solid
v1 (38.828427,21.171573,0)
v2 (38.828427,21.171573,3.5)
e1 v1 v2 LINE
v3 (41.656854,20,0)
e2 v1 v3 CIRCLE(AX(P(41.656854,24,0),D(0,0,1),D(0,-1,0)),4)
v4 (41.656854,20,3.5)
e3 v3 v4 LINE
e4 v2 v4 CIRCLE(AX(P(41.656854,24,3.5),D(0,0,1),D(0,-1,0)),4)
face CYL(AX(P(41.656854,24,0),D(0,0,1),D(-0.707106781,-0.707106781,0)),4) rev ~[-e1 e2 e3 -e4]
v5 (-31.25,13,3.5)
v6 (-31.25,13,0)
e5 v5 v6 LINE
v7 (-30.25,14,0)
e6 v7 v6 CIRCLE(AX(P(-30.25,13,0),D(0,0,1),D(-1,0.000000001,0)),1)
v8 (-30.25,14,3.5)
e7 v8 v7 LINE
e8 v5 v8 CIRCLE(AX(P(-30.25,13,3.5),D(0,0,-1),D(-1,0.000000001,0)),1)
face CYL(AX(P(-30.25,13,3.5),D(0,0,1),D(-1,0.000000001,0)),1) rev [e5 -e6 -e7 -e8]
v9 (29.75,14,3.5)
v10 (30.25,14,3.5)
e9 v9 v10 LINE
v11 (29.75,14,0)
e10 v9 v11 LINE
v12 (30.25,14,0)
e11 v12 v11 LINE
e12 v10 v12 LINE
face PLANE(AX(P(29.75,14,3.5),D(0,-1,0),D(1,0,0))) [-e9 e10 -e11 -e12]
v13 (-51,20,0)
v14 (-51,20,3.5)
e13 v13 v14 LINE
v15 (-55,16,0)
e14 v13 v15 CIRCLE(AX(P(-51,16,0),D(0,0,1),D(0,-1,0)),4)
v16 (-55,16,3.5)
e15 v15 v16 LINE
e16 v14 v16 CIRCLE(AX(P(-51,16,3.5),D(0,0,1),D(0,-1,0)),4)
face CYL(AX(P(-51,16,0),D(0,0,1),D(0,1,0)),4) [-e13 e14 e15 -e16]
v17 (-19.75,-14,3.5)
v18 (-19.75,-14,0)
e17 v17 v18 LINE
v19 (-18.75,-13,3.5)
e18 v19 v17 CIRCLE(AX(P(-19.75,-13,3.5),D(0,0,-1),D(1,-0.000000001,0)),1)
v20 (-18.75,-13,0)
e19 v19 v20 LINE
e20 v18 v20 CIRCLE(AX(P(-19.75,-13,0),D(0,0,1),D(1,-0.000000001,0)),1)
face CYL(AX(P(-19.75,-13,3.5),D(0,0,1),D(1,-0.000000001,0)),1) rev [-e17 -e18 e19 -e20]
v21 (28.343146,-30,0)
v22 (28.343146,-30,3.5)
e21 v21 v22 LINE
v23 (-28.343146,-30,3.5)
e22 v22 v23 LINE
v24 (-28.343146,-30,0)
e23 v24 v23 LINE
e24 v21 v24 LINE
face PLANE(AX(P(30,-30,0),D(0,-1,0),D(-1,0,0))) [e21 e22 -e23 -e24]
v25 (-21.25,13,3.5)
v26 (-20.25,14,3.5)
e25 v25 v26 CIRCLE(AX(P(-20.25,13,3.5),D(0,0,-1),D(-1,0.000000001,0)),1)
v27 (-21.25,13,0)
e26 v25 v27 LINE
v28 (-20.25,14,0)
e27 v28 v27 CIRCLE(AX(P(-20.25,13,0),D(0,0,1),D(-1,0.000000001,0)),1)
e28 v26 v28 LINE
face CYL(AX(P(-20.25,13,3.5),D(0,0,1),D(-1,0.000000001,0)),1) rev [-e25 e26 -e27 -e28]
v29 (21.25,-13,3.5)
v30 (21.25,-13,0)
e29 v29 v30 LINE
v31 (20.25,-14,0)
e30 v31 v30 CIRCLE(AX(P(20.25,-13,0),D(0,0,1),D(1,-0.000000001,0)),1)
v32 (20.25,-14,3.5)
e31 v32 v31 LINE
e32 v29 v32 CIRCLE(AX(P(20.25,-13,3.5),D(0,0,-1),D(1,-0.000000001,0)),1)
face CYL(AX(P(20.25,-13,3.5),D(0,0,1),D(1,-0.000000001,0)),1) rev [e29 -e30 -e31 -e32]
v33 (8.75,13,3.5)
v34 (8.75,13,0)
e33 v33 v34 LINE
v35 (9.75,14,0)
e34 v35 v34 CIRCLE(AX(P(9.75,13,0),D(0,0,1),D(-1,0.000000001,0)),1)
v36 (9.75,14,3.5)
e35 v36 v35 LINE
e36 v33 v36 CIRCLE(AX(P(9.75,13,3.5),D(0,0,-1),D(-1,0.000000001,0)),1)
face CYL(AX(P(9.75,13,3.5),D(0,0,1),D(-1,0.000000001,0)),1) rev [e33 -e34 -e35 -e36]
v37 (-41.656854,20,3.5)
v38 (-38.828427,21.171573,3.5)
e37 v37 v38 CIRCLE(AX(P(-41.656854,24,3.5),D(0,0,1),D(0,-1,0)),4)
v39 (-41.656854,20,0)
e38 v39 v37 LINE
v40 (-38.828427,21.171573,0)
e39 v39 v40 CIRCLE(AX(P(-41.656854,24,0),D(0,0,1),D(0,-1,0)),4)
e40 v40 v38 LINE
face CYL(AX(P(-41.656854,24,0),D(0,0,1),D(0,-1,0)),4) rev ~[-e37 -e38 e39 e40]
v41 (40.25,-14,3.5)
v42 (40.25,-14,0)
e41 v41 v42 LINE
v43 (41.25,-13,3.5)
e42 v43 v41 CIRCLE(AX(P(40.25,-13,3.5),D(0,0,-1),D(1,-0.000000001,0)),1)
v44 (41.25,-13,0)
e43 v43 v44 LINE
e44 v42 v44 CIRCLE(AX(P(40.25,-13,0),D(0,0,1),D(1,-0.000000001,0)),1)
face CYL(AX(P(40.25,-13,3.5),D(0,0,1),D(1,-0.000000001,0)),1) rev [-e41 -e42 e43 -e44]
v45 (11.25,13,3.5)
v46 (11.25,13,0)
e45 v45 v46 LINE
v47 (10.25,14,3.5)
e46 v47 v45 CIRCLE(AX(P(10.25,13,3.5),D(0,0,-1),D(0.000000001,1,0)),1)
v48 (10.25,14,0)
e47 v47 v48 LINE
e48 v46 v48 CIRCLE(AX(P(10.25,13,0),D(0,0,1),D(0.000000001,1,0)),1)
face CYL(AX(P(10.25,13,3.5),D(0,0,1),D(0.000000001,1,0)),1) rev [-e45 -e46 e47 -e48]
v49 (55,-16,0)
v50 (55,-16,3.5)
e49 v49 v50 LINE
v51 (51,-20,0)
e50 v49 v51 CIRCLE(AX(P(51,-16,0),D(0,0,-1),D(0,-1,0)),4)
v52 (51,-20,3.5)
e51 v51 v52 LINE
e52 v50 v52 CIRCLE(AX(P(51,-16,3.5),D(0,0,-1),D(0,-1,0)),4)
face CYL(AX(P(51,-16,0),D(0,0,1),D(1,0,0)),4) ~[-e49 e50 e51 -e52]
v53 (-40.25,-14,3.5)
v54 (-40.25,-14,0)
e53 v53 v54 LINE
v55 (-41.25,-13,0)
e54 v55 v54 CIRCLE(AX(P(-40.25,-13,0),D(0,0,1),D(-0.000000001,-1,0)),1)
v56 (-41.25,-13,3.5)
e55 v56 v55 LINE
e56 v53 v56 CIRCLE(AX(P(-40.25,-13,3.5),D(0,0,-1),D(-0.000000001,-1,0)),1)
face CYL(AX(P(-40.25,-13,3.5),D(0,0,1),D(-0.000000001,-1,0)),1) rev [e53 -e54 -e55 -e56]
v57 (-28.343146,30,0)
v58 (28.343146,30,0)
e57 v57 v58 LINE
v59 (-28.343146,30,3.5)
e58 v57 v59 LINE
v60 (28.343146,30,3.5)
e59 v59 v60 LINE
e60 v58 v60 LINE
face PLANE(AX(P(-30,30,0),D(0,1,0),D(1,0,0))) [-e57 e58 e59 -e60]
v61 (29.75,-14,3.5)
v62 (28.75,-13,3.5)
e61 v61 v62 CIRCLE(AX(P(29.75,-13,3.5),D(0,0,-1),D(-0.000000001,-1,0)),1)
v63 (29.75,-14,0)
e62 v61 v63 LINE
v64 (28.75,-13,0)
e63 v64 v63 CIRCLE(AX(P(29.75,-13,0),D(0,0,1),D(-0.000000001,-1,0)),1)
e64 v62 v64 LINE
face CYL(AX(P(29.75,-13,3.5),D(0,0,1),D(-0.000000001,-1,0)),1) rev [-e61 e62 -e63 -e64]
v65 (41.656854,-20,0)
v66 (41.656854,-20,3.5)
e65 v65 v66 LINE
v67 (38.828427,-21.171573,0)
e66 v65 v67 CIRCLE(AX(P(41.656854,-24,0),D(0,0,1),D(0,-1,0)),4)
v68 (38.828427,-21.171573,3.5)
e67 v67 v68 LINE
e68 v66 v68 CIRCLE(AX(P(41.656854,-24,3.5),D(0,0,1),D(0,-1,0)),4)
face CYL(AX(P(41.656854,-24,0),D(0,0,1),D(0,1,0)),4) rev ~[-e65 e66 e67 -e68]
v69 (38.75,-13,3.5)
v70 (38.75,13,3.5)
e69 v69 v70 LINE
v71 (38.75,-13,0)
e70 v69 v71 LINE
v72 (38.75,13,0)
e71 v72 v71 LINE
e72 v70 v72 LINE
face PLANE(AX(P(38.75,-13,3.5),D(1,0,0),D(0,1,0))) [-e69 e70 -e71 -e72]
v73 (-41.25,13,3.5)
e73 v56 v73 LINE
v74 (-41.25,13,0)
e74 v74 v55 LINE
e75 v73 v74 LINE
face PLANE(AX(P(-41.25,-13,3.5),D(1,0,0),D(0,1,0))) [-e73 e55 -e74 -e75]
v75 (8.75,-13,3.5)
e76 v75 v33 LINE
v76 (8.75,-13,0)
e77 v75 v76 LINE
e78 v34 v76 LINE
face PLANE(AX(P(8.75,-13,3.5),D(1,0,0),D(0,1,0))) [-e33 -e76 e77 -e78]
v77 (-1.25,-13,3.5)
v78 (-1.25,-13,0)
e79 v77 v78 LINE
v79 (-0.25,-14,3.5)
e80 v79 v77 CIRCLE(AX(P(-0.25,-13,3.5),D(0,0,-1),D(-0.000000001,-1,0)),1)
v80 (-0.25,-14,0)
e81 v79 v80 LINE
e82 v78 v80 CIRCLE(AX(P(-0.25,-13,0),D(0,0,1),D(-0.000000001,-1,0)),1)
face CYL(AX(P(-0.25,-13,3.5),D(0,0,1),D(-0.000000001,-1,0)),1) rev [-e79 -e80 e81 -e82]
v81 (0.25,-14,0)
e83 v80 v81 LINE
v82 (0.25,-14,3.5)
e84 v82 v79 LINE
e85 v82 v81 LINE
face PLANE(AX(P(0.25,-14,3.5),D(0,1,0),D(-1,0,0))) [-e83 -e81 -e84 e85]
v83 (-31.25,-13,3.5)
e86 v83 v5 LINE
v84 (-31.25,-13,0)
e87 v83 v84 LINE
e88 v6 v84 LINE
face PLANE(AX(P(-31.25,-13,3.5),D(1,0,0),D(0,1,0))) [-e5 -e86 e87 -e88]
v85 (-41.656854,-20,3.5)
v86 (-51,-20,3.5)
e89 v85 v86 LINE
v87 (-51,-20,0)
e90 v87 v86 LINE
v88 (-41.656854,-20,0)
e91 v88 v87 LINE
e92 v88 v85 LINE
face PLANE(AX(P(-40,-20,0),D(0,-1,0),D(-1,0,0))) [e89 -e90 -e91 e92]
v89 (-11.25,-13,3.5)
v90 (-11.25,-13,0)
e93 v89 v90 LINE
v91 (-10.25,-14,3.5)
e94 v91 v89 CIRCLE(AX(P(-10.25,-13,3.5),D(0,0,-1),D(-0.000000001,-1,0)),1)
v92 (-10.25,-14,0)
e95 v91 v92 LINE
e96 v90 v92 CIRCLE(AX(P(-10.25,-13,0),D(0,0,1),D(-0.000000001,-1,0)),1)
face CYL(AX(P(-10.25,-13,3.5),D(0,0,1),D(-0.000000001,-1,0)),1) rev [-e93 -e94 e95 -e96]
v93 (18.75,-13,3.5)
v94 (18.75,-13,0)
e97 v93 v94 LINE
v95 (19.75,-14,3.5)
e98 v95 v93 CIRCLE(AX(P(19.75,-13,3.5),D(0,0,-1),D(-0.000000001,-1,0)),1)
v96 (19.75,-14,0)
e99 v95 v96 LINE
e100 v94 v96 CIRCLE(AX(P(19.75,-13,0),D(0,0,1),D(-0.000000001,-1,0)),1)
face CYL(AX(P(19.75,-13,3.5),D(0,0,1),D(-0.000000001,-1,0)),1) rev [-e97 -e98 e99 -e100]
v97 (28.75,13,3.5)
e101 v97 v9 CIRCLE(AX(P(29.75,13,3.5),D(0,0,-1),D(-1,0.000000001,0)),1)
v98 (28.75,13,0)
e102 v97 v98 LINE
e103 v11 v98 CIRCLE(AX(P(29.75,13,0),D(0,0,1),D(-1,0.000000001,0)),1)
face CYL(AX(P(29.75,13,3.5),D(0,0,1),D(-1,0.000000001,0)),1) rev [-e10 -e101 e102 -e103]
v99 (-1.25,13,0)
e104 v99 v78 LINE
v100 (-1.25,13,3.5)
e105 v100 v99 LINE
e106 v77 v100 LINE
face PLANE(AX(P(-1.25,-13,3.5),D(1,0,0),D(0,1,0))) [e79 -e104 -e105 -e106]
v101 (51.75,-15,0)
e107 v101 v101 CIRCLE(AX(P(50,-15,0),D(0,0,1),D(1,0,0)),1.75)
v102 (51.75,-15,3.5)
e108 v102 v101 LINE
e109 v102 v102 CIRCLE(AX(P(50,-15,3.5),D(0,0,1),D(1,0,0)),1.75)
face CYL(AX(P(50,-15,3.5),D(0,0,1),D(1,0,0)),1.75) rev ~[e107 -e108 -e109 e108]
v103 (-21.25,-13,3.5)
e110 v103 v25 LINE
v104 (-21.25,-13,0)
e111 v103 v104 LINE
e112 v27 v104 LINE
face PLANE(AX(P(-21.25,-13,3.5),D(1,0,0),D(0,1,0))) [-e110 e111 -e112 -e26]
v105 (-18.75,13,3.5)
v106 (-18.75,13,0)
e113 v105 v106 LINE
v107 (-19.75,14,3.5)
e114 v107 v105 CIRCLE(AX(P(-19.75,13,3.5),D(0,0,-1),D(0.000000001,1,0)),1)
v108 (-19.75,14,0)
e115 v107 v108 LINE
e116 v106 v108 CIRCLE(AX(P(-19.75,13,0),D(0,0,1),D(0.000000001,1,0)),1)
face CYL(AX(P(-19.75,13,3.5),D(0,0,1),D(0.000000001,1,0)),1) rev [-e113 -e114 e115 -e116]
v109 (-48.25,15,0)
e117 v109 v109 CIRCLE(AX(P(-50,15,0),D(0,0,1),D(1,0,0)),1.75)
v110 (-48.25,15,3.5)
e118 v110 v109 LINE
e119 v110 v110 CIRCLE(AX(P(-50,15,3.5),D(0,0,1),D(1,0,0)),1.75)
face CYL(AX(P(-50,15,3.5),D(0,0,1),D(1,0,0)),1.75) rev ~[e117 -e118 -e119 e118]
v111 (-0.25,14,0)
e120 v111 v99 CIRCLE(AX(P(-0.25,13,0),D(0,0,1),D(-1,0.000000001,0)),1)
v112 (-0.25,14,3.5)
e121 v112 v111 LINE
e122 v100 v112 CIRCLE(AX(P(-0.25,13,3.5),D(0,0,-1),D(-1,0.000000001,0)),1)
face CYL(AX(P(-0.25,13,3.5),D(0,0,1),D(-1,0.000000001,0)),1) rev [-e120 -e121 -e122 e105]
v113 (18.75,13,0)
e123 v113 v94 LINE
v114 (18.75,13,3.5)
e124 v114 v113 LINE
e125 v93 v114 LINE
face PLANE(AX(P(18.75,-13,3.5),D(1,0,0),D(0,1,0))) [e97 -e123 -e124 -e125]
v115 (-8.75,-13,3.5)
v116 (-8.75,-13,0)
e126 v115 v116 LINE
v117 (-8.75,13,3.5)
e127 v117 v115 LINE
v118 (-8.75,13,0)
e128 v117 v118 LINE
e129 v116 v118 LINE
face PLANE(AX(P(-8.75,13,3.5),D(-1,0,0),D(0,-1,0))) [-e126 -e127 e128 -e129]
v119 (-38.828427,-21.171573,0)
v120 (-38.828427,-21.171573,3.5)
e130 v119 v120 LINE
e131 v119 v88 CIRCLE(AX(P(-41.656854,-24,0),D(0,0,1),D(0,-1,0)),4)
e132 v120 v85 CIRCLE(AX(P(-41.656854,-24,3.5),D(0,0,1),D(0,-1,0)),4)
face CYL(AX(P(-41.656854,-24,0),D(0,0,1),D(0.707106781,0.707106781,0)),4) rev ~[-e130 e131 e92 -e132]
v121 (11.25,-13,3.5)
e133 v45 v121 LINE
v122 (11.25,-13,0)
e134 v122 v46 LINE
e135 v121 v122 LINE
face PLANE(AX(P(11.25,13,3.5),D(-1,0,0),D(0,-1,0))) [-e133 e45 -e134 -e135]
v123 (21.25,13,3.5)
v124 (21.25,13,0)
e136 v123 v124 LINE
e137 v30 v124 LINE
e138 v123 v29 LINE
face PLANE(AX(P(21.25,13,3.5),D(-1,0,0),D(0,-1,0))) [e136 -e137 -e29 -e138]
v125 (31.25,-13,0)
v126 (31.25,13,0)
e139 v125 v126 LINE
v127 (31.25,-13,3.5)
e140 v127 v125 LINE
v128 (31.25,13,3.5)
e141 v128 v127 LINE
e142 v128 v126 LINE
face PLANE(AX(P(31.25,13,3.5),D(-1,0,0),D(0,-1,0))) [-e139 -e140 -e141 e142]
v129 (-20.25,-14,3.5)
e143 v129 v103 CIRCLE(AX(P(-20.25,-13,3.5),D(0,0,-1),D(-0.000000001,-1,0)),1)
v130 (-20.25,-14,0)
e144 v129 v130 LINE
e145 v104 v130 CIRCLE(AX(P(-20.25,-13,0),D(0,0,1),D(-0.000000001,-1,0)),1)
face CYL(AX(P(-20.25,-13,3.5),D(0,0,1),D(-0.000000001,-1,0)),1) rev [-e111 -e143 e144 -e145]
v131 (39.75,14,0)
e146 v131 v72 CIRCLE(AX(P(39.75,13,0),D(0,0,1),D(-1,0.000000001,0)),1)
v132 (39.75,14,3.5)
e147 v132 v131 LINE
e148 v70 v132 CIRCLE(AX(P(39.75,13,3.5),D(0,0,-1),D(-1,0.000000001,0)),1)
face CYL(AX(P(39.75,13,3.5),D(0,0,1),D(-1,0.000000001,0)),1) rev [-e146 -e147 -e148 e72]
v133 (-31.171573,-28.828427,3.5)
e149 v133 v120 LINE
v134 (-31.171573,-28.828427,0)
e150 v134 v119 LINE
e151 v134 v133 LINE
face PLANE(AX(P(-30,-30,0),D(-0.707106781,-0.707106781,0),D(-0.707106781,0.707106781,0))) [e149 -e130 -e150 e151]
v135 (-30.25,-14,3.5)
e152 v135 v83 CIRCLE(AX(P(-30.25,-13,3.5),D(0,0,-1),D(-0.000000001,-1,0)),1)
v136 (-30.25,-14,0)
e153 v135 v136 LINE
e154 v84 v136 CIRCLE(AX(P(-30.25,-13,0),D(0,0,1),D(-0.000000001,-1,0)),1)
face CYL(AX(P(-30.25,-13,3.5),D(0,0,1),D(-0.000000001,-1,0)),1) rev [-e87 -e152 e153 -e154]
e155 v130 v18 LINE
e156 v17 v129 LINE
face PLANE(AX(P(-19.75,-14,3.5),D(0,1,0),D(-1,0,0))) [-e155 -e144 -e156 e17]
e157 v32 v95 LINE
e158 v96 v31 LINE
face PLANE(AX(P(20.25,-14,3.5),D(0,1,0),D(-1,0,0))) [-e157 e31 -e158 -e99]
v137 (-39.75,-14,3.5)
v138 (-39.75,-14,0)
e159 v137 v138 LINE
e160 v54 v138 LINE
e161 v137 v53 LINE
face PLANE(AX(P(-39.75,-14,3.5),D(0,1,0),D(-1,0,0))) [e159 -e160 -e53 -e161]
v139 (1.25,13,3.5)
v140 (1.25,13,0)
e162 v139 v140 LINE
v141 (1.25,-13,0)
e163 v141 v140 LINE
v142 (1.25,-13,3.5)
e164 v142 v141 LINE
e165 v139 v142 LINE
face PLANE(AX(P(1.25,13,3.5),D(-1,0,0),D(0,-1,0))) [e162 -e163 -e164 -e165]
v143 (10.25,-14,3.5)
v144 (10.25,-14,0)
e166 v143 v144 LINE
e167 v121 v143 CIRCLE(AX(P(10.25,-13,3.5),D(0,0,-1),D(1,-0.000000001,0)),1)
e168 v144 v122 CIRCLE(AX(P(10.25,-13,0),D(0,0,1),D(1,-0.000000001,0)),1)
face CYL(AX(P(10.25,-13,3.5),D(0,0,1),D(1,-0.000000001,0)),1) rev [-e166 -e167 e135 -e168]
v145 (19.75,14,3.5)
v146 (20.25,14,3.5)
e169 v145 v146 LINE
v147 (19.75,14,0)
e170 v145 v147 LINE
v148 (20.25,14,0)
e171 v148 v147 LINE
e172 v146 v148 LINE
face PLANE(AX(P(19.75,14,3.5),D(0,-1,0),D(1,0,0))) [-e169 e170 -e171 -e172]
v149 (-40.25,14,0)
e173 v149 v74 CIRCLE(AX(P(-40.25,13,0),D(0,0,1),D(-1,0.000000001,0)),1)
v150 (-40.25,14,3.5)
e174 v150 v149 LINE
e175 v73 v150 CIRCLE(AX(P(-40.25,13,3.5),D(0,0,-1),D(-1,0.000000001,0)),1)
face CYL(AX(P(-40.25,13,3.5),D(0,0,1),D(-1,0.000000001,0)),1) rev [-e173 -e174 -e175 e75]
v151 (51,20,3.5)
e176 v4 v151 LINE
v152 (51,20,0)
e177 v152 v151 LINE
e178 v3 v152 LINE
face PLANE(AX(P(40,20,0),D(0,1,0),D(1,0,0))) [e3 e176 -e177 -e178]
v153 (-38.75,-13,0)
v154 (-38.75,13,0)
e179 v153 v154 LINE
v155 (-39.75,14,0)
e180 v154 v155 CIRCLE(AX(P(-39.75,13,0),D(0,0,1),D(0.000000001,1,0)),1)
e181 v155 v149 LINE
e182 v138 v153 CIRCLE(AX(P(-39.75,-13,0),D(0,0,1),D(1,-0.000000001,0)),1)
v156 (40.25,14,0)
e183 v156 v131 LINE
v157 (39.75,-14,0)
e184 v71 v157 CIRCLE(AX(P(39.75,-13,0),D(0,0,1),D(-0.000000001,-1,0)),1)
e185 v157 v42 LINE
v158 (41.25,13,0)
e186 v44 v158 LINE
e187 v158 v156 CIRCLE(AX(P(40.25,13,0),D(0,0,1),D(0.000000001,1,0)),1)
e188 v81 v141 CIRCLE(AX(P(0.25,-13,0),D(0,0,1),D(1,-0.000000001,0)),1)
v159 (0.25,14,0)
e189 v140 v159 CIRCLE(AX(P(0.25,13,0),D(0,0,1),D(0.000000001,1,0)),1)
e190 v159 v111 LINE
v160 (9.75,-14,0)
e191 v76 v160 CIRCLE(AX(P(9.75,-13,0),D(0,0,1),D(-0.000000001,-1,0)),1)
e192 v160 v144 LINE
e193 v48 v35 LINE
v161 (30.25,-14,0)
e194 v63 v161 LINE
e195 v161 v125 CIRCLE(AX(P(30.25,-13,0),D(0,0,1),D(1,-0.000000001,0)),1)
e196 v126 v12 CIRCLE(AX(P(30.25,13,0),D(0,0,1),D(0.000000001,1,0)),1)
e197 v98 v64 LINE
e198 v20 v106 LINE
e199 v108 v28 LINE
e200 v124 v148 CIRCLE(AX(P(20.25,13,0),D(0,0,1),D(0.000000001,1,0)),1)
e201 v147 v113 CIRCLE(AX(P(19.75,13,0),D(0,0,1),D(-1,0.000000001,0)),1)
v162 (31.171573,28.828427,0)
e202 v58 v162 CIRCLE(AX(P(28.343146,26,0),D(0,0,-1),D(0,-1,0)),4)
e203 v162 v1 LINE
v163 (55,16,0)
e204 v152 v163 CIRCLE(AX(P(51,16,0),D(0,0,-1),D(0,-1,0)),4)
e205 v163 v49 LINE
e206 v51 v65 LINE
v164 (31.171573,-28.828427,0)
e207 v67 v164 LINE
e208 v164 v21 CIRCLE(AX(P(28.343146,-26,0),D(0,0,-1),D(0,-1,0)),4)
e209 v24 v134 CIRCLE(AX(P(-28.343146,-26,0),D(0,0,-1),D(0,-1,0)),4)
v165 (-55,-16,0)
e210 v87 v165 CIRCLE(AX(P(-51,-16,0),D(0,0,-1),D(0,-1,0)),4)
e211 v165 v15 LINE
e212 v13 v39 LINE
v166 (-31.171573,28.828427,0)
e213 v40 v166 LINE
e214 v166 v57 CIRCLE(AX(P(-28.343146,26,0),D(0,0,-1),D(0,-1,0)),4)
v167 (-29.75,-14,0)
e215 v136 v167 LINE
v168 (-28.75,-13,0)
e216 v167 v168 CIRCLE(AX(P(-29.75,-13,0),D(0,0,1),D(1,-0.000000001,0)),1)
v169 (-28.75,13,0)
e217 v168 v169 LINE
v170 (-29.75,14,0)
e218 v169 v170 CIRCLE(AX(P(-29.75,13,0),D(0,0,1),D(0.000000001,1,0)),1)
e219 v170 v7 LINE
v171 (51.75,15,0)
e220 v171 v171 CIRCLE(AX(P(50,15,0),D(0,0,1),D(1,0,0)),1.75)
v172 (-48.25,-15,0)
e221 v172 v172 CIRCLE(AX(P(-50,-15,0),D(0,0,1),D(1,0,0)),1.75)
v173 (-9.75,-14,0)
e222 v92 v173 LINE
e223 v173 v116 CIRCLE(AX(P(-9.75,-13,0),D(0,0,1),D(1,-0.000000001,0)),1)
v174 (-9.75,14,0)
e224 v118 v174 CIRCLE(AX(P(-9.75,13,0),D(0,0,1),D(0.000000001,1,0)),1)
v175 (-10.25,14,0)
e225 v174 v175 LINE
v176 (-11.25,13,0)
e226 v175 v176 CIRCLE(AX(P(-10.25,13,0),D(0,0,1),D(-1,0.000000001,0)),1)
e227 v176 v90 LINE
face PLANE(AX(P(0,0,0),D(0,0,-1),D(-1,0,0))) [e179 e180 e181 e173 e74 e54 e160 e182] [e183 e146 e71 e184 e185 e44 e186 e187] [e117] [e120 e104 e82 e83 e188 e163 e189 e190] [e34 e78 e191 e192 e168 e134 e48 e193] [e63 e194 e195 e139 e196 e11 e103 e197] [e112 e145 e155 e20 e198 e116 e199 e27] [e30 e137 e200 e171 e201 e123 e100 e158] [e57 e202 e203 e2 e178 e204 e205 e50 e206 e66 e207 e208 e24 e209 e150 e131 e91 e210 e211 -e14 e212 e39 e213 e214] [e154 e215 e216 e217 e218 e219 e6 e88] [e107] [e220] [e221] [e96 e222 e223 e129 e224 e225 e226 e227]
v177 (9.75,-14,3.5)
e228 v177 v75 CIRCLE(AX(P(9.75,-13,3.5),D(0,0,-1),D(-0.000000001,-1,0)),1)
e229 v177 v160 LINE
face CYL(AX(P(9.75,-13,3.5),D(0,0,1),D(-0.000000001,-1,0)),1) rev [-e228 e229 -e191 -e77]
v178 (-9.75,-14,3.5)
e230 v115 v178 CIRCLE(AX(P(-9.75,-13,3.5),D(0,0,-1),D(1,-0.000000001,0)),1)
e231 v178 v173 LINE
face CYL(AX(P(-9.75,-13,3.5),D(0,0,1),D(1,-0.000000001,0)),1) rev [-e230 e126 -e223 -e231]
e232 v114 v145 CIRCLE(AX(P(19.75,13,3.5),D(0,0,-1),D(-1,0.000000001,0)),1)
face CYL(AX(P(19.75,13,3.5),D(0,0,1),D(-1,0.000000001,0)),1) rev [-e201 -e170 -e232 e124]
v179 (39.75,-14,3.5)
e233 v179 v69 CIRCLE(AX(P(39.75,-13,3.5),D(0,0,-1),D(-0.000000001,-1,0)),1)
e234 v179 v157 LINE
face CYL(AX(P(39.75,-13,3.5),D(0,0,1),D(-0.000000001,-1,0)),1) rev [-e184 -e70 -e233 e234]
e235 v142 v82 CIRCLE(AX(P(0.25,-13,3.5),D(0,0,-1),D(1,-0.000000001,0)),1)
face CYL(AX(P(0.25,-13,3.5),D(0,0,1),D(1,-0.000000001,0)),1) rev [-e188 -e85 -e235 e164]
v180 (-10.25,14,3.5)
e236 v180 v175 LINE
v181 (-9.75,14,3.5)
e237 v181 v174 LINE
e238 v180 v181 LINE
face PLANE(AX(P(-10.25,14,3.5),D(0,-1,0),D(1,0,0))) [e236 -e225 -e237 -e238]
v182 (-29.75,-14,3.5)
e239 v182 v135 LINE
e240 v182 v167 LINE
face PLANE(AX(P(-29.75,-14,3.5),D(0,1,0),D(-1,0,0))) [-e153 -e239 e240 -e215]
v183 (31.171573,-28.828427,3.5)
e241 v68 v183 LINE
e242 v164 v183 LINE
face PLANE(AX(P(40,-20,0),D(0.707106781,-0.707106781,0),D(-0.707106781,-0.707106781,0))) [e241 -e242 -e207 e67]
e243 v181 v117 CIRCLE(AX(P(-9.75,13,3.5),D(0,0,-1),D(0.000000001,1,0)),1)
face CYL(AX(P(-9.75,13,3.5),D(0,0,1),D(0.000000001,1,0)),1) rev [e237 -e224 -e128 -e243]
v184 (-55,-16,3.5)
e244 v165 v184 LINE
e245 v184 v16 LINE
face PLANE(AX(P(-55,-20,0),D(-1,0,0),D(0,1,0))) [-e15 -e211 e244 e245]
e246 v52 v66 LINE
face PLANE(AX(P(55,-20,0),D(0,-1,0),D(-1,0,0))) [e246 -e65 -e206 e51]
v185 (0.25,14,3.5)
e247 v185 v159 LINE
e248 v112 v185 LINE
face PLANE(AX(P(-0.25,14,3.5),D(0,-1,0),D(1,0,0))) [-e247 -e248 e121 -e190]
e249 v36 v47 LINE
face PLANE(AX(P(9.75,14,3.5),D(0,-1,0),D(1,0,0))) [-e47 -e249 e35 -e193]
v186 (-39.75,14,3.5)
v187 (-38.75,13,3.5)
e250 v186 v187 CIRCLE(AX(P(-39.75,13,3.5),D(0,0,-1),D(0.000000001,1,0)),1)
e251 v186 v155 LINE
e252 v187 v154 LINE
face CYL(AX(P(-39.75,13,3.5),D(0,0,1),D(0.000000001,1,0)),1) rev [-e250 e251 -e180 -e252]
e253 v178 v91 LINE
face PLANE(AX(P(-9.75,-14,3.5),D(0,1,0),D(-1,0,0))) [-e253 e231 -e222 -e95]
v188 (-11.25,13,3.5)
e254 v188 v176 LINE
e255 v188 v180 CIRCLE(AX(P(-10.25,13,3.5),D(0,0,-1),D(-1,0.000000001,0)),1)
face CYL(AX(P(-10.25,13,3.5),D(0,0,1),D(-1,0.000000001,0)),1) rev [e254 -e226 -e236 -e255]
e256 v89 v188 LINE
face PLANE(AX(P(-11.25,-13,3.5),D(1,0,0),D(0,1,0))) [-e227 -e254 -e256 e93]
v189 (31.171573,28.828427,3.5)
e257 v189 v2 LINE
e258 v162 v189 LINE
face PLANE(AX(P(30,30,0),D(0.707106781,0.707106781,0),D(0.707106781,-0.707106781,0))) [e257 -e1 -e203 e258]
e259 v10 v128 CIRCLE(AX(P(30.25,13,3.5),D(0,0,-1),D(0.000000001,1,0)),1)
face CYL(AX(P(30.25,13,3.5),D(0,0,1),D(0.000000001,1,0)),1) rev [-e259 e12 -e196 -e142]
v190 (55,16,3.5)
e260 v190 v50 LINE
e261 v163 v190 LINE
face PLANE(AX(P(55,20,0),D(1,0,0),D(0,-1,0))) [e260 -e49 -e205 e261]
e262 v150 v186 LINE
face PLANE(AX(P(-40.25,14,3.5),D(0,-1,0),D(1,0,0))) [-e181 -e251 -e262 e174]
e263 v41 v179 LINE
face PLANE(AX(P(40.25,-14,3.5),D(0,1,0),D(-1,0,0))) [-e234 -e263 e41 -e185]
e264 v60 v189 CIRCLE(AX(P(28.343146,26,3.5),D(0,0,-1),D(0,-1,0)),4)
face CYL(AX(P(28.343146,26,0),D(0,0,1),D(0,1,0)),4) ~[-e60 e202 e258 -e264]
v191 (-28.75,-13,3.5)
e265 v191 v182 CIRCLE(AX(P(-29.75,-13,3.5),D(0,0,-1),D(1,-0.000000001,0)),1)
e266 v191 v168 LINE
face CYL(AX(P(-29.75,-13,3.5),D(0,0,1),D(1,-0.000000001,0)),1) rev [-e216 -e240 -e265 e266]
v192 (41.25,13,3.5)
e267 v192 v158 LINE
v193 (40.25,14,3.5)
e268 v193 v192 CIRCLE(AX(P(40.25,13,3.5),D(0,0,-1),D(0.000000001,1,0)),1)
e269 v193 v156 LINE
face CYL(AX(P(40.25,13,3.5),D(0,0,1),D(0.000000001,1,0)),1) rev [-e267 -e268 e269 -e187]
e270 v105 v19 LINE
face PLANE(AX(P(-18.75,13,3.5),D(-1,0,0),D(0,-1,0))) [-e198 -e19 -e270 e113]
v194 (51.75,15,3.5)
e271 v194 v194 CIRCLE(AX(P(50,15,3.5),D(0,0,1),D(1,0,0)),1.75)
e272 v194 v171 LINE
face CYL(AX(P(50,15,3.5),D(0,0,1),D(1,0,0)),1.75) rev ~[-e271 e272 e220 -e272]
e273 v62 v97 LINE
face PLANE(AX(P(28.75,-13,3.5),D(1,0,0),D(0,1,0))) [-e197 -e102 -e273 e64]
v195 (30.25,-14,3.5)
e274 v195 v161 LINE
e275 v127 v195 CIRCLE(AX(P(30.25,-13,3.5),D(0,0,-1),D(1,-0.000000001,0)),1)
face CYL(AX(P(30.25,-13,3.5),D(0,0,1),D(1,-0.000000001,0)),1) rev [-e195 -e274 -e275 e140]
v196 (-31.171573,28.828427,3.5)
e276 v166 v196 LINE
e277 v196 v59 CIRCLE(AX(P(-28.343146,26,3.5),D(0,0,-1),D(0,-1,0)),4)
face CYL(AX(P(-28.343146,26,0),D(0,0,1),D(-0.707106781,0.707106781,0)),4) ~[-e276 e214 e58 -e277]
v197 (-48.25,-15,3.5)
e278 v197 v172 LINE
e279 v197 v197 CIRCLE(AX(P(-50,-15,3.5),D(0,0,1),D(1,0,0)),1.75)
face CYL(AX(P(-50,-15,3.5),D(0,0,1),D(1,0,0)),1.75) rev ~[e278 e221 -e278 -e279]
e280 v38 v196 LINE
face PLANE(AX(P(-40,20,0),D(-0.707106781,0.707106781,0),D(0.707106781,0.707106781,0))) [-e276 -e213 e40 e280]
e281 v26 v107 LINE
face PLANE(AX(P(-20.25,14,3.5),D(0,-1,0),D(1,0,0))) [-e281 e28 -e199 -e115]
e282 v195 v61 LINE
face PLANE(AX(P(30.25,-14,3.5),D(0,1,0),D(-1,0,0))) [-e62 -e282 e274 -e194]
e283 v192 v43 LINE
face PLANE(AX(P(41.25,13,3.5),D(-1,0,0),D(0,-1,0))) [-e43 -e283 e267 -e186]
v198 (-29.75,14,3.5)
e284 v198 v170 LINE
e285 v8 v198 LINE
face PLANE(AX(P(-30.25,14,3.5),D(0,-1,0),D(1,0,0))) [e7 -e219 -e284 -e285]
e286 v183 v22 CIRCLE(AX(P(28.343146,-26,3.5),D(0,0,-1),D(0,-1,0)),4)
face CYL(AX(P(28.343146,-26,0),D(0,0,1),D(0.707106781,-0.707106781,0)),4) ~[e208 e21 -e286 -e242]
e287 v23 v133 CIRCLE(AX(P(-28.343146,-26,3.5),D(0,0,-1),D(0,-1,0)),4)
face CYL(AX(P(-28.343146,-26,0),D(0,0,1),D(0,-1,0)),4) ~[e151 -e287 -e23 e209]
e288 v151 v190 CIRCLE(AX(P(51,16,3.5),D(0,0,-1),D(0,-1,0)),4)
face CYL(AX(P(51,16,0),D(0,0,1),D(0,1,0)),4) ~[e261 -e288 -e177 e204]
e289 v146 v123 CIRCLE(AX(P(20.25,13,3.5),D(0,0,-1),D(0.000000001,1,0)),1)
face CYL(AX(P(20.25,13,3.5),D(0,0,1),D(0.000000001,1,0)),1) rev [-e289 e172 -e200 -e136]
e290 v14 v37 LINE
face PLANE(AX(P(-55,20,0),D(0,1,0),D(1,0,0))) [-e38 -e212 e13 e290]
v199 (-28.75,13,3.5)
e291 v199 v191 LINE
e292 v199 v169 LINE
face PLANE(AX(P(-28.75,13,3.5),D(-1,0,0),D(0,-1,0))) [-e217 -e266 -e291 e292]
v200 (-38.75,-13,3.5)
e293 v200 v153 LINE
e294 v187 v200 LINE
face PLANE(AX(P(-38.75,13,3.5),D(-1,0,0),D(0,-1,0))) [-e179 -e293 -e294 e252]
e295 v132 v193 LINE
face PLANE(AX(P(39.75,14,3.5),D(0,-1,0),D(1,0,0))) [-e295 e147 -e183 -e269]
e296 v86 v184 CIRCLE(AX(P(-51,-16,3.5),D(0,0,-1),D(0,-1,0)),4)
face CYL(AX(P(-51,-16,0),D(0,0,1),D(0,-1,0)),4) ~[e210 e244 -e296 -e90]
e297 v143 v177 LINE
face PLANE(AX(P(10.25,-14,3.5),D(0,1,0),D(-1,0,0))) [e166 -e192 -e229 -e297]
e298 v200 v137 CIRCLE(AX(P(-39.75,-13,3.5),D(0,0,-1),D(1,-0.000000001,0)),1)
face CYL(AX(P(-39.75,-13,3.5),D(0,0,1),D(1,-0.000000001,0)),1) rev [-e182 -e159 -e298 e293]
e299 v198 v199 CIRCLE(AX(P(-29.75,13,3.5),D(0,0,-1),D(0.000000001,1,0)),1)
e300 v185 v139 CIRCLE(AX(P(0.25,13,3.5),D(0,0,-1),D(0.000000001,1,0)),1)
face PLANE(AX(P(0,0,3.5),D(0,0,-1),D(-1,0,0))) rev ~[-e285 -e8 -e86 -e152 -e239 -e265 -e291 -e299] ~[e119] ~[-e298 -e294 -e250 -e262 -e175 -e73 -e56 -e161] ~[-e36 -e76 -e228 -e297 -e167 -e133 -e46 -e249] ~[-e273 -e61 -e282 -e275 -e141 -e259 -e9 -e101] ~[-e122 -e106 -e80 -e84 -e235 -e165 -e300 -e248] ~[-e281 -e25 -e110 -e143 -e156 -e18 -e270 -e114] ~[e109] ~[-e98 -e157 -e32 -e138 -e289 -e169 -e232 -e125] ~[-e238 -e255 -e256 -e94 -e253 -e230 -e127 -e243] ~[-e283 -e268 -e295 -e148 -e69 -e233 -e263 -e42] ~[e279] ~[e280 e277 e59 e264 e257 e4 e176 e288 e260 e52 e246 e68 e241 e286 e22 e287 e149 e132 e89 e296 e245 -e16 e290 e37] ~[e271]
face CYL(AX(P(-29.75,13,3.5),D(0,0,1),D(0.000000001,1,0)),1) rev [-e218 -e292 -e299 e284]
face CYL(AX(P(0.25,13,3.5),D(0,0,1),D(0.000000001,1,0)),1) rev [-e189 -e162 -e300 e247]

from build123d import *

# Parameters (mm, degrees)
BOSS_EXTRUDE1_DEPTH = 3.5
FILLET1_R           = 4
SKETCH2_R           = 1.75
CUT_EXTRUDE1_DEPTH  = 63.747509911
CUT_EXTRUDE2_DEPTH  = 63.747509911
LPATTERN1_COUNT     = 5
LPATTERN1_PITCH     = 10
LPATTERN1_COL_COUNT = 5
LPATTERN1_COL_PITCH = 10


with BuildPart() as part:
    # Sketch1 → Boss-Extrude1 (new body)
    with BuildSketch(Plane.XY):
        Polygon((-55, 20), (-40, 20), (-30, 30), (30, 30), (40, 20), (55, 20), (55, -20), (40, -20), (30, -30), (-30, -30), (-40, -20), (-55, -20), align=None)
    extrude(amount=BOSS_EXTRUDE1_DEPTH)

    # Fillet1
    fillet1_edges = [part.edges().sort_by_distance(p)[0] for p in [
        (-55, -20, 1.75),
        (-55, 20, 1.75),
        (-40, 20, 1.75),
        (-30, 30, 1.75),
        (30, 30, 1.75),
        (40, 20, 1.75),
        (55, 20, 1.75),
        (55, -20, 1.75),
        (40, -20, 1.75),
        (30, -30, 1.75),
        (-30, -30, 1.75),
        (-40, -20, 1.75),
    ]]
    fillet(fillet1_edges, radius=FILLET1_R)

    # Sketch2 → Cut-Extrude1 (cut, through all)
    with BuildSketch(Plane.XY.offset(3.5)):
        with Locations((-50, 15)):
            Circle(SKETCH2_R)
        with Locations((-50, -15)):
            Circle(SKETCH2_R)
        with Locations((50, -15)):
            Circle(SKETCH2_R)
        with Locations((50, 15)):
            Circle(SKETCH2_R)
    extrude(amount=-CUT_EXTRUDE1_DEPTH, mode=Mode.SUBTRACT)

    # Sketch3 → Cut-Extrude2 (cut, through all)
    with BuildSketch(Plane.XY.offset(3.5)):
        with BuildLine():
            Line((-0.25, 14), (0.25, 14))
            ThreePointArc((0.25, 14), (0.957106781, 13.707106781), (1.25, 13))
            Line((1.25, 13), (1.25, -13))
            ThreePointArc((1.25, -13), (0.957106781, -13.707106781), (0.25, -14))
            Line((0.25, -14), (-0.25, -14))
            ThreePointArc((-0.25, -14), (-0.957106781, -13.707106781), (-1.25, -13))
            Line((-1.25, -13), (-1.25, 13))
            ThreePointArc((-1.25, 13), (-0.957106781, 13.707106781), (-0.25, 14))
        make_face()
    cut_extrude2 = extrude(amount=-CUT_EXTRUDE2_DEPTH, mode=Mode.SUBTRACT)

    # LPattern1: Cut-Extrude2 ×5
    with Locations(*[(-i * LPATTERN1_PITCH, 0, 0) for i in range(1, LPATTERN1_COUNT)]):
        add(cut_extrude2, mode=Mode.SUBTRACT)

    # LPattern1 col: Cut-Extrude2 ×5
    with Locations(*[(i * LPATTERN1_COL_PITCH, 0, 0) for i in range(1, LPATTERN1_COL_COUNT)]):
        add(cut_extrude2, mode=Mode.SUBTRACT)


solid = part.part
